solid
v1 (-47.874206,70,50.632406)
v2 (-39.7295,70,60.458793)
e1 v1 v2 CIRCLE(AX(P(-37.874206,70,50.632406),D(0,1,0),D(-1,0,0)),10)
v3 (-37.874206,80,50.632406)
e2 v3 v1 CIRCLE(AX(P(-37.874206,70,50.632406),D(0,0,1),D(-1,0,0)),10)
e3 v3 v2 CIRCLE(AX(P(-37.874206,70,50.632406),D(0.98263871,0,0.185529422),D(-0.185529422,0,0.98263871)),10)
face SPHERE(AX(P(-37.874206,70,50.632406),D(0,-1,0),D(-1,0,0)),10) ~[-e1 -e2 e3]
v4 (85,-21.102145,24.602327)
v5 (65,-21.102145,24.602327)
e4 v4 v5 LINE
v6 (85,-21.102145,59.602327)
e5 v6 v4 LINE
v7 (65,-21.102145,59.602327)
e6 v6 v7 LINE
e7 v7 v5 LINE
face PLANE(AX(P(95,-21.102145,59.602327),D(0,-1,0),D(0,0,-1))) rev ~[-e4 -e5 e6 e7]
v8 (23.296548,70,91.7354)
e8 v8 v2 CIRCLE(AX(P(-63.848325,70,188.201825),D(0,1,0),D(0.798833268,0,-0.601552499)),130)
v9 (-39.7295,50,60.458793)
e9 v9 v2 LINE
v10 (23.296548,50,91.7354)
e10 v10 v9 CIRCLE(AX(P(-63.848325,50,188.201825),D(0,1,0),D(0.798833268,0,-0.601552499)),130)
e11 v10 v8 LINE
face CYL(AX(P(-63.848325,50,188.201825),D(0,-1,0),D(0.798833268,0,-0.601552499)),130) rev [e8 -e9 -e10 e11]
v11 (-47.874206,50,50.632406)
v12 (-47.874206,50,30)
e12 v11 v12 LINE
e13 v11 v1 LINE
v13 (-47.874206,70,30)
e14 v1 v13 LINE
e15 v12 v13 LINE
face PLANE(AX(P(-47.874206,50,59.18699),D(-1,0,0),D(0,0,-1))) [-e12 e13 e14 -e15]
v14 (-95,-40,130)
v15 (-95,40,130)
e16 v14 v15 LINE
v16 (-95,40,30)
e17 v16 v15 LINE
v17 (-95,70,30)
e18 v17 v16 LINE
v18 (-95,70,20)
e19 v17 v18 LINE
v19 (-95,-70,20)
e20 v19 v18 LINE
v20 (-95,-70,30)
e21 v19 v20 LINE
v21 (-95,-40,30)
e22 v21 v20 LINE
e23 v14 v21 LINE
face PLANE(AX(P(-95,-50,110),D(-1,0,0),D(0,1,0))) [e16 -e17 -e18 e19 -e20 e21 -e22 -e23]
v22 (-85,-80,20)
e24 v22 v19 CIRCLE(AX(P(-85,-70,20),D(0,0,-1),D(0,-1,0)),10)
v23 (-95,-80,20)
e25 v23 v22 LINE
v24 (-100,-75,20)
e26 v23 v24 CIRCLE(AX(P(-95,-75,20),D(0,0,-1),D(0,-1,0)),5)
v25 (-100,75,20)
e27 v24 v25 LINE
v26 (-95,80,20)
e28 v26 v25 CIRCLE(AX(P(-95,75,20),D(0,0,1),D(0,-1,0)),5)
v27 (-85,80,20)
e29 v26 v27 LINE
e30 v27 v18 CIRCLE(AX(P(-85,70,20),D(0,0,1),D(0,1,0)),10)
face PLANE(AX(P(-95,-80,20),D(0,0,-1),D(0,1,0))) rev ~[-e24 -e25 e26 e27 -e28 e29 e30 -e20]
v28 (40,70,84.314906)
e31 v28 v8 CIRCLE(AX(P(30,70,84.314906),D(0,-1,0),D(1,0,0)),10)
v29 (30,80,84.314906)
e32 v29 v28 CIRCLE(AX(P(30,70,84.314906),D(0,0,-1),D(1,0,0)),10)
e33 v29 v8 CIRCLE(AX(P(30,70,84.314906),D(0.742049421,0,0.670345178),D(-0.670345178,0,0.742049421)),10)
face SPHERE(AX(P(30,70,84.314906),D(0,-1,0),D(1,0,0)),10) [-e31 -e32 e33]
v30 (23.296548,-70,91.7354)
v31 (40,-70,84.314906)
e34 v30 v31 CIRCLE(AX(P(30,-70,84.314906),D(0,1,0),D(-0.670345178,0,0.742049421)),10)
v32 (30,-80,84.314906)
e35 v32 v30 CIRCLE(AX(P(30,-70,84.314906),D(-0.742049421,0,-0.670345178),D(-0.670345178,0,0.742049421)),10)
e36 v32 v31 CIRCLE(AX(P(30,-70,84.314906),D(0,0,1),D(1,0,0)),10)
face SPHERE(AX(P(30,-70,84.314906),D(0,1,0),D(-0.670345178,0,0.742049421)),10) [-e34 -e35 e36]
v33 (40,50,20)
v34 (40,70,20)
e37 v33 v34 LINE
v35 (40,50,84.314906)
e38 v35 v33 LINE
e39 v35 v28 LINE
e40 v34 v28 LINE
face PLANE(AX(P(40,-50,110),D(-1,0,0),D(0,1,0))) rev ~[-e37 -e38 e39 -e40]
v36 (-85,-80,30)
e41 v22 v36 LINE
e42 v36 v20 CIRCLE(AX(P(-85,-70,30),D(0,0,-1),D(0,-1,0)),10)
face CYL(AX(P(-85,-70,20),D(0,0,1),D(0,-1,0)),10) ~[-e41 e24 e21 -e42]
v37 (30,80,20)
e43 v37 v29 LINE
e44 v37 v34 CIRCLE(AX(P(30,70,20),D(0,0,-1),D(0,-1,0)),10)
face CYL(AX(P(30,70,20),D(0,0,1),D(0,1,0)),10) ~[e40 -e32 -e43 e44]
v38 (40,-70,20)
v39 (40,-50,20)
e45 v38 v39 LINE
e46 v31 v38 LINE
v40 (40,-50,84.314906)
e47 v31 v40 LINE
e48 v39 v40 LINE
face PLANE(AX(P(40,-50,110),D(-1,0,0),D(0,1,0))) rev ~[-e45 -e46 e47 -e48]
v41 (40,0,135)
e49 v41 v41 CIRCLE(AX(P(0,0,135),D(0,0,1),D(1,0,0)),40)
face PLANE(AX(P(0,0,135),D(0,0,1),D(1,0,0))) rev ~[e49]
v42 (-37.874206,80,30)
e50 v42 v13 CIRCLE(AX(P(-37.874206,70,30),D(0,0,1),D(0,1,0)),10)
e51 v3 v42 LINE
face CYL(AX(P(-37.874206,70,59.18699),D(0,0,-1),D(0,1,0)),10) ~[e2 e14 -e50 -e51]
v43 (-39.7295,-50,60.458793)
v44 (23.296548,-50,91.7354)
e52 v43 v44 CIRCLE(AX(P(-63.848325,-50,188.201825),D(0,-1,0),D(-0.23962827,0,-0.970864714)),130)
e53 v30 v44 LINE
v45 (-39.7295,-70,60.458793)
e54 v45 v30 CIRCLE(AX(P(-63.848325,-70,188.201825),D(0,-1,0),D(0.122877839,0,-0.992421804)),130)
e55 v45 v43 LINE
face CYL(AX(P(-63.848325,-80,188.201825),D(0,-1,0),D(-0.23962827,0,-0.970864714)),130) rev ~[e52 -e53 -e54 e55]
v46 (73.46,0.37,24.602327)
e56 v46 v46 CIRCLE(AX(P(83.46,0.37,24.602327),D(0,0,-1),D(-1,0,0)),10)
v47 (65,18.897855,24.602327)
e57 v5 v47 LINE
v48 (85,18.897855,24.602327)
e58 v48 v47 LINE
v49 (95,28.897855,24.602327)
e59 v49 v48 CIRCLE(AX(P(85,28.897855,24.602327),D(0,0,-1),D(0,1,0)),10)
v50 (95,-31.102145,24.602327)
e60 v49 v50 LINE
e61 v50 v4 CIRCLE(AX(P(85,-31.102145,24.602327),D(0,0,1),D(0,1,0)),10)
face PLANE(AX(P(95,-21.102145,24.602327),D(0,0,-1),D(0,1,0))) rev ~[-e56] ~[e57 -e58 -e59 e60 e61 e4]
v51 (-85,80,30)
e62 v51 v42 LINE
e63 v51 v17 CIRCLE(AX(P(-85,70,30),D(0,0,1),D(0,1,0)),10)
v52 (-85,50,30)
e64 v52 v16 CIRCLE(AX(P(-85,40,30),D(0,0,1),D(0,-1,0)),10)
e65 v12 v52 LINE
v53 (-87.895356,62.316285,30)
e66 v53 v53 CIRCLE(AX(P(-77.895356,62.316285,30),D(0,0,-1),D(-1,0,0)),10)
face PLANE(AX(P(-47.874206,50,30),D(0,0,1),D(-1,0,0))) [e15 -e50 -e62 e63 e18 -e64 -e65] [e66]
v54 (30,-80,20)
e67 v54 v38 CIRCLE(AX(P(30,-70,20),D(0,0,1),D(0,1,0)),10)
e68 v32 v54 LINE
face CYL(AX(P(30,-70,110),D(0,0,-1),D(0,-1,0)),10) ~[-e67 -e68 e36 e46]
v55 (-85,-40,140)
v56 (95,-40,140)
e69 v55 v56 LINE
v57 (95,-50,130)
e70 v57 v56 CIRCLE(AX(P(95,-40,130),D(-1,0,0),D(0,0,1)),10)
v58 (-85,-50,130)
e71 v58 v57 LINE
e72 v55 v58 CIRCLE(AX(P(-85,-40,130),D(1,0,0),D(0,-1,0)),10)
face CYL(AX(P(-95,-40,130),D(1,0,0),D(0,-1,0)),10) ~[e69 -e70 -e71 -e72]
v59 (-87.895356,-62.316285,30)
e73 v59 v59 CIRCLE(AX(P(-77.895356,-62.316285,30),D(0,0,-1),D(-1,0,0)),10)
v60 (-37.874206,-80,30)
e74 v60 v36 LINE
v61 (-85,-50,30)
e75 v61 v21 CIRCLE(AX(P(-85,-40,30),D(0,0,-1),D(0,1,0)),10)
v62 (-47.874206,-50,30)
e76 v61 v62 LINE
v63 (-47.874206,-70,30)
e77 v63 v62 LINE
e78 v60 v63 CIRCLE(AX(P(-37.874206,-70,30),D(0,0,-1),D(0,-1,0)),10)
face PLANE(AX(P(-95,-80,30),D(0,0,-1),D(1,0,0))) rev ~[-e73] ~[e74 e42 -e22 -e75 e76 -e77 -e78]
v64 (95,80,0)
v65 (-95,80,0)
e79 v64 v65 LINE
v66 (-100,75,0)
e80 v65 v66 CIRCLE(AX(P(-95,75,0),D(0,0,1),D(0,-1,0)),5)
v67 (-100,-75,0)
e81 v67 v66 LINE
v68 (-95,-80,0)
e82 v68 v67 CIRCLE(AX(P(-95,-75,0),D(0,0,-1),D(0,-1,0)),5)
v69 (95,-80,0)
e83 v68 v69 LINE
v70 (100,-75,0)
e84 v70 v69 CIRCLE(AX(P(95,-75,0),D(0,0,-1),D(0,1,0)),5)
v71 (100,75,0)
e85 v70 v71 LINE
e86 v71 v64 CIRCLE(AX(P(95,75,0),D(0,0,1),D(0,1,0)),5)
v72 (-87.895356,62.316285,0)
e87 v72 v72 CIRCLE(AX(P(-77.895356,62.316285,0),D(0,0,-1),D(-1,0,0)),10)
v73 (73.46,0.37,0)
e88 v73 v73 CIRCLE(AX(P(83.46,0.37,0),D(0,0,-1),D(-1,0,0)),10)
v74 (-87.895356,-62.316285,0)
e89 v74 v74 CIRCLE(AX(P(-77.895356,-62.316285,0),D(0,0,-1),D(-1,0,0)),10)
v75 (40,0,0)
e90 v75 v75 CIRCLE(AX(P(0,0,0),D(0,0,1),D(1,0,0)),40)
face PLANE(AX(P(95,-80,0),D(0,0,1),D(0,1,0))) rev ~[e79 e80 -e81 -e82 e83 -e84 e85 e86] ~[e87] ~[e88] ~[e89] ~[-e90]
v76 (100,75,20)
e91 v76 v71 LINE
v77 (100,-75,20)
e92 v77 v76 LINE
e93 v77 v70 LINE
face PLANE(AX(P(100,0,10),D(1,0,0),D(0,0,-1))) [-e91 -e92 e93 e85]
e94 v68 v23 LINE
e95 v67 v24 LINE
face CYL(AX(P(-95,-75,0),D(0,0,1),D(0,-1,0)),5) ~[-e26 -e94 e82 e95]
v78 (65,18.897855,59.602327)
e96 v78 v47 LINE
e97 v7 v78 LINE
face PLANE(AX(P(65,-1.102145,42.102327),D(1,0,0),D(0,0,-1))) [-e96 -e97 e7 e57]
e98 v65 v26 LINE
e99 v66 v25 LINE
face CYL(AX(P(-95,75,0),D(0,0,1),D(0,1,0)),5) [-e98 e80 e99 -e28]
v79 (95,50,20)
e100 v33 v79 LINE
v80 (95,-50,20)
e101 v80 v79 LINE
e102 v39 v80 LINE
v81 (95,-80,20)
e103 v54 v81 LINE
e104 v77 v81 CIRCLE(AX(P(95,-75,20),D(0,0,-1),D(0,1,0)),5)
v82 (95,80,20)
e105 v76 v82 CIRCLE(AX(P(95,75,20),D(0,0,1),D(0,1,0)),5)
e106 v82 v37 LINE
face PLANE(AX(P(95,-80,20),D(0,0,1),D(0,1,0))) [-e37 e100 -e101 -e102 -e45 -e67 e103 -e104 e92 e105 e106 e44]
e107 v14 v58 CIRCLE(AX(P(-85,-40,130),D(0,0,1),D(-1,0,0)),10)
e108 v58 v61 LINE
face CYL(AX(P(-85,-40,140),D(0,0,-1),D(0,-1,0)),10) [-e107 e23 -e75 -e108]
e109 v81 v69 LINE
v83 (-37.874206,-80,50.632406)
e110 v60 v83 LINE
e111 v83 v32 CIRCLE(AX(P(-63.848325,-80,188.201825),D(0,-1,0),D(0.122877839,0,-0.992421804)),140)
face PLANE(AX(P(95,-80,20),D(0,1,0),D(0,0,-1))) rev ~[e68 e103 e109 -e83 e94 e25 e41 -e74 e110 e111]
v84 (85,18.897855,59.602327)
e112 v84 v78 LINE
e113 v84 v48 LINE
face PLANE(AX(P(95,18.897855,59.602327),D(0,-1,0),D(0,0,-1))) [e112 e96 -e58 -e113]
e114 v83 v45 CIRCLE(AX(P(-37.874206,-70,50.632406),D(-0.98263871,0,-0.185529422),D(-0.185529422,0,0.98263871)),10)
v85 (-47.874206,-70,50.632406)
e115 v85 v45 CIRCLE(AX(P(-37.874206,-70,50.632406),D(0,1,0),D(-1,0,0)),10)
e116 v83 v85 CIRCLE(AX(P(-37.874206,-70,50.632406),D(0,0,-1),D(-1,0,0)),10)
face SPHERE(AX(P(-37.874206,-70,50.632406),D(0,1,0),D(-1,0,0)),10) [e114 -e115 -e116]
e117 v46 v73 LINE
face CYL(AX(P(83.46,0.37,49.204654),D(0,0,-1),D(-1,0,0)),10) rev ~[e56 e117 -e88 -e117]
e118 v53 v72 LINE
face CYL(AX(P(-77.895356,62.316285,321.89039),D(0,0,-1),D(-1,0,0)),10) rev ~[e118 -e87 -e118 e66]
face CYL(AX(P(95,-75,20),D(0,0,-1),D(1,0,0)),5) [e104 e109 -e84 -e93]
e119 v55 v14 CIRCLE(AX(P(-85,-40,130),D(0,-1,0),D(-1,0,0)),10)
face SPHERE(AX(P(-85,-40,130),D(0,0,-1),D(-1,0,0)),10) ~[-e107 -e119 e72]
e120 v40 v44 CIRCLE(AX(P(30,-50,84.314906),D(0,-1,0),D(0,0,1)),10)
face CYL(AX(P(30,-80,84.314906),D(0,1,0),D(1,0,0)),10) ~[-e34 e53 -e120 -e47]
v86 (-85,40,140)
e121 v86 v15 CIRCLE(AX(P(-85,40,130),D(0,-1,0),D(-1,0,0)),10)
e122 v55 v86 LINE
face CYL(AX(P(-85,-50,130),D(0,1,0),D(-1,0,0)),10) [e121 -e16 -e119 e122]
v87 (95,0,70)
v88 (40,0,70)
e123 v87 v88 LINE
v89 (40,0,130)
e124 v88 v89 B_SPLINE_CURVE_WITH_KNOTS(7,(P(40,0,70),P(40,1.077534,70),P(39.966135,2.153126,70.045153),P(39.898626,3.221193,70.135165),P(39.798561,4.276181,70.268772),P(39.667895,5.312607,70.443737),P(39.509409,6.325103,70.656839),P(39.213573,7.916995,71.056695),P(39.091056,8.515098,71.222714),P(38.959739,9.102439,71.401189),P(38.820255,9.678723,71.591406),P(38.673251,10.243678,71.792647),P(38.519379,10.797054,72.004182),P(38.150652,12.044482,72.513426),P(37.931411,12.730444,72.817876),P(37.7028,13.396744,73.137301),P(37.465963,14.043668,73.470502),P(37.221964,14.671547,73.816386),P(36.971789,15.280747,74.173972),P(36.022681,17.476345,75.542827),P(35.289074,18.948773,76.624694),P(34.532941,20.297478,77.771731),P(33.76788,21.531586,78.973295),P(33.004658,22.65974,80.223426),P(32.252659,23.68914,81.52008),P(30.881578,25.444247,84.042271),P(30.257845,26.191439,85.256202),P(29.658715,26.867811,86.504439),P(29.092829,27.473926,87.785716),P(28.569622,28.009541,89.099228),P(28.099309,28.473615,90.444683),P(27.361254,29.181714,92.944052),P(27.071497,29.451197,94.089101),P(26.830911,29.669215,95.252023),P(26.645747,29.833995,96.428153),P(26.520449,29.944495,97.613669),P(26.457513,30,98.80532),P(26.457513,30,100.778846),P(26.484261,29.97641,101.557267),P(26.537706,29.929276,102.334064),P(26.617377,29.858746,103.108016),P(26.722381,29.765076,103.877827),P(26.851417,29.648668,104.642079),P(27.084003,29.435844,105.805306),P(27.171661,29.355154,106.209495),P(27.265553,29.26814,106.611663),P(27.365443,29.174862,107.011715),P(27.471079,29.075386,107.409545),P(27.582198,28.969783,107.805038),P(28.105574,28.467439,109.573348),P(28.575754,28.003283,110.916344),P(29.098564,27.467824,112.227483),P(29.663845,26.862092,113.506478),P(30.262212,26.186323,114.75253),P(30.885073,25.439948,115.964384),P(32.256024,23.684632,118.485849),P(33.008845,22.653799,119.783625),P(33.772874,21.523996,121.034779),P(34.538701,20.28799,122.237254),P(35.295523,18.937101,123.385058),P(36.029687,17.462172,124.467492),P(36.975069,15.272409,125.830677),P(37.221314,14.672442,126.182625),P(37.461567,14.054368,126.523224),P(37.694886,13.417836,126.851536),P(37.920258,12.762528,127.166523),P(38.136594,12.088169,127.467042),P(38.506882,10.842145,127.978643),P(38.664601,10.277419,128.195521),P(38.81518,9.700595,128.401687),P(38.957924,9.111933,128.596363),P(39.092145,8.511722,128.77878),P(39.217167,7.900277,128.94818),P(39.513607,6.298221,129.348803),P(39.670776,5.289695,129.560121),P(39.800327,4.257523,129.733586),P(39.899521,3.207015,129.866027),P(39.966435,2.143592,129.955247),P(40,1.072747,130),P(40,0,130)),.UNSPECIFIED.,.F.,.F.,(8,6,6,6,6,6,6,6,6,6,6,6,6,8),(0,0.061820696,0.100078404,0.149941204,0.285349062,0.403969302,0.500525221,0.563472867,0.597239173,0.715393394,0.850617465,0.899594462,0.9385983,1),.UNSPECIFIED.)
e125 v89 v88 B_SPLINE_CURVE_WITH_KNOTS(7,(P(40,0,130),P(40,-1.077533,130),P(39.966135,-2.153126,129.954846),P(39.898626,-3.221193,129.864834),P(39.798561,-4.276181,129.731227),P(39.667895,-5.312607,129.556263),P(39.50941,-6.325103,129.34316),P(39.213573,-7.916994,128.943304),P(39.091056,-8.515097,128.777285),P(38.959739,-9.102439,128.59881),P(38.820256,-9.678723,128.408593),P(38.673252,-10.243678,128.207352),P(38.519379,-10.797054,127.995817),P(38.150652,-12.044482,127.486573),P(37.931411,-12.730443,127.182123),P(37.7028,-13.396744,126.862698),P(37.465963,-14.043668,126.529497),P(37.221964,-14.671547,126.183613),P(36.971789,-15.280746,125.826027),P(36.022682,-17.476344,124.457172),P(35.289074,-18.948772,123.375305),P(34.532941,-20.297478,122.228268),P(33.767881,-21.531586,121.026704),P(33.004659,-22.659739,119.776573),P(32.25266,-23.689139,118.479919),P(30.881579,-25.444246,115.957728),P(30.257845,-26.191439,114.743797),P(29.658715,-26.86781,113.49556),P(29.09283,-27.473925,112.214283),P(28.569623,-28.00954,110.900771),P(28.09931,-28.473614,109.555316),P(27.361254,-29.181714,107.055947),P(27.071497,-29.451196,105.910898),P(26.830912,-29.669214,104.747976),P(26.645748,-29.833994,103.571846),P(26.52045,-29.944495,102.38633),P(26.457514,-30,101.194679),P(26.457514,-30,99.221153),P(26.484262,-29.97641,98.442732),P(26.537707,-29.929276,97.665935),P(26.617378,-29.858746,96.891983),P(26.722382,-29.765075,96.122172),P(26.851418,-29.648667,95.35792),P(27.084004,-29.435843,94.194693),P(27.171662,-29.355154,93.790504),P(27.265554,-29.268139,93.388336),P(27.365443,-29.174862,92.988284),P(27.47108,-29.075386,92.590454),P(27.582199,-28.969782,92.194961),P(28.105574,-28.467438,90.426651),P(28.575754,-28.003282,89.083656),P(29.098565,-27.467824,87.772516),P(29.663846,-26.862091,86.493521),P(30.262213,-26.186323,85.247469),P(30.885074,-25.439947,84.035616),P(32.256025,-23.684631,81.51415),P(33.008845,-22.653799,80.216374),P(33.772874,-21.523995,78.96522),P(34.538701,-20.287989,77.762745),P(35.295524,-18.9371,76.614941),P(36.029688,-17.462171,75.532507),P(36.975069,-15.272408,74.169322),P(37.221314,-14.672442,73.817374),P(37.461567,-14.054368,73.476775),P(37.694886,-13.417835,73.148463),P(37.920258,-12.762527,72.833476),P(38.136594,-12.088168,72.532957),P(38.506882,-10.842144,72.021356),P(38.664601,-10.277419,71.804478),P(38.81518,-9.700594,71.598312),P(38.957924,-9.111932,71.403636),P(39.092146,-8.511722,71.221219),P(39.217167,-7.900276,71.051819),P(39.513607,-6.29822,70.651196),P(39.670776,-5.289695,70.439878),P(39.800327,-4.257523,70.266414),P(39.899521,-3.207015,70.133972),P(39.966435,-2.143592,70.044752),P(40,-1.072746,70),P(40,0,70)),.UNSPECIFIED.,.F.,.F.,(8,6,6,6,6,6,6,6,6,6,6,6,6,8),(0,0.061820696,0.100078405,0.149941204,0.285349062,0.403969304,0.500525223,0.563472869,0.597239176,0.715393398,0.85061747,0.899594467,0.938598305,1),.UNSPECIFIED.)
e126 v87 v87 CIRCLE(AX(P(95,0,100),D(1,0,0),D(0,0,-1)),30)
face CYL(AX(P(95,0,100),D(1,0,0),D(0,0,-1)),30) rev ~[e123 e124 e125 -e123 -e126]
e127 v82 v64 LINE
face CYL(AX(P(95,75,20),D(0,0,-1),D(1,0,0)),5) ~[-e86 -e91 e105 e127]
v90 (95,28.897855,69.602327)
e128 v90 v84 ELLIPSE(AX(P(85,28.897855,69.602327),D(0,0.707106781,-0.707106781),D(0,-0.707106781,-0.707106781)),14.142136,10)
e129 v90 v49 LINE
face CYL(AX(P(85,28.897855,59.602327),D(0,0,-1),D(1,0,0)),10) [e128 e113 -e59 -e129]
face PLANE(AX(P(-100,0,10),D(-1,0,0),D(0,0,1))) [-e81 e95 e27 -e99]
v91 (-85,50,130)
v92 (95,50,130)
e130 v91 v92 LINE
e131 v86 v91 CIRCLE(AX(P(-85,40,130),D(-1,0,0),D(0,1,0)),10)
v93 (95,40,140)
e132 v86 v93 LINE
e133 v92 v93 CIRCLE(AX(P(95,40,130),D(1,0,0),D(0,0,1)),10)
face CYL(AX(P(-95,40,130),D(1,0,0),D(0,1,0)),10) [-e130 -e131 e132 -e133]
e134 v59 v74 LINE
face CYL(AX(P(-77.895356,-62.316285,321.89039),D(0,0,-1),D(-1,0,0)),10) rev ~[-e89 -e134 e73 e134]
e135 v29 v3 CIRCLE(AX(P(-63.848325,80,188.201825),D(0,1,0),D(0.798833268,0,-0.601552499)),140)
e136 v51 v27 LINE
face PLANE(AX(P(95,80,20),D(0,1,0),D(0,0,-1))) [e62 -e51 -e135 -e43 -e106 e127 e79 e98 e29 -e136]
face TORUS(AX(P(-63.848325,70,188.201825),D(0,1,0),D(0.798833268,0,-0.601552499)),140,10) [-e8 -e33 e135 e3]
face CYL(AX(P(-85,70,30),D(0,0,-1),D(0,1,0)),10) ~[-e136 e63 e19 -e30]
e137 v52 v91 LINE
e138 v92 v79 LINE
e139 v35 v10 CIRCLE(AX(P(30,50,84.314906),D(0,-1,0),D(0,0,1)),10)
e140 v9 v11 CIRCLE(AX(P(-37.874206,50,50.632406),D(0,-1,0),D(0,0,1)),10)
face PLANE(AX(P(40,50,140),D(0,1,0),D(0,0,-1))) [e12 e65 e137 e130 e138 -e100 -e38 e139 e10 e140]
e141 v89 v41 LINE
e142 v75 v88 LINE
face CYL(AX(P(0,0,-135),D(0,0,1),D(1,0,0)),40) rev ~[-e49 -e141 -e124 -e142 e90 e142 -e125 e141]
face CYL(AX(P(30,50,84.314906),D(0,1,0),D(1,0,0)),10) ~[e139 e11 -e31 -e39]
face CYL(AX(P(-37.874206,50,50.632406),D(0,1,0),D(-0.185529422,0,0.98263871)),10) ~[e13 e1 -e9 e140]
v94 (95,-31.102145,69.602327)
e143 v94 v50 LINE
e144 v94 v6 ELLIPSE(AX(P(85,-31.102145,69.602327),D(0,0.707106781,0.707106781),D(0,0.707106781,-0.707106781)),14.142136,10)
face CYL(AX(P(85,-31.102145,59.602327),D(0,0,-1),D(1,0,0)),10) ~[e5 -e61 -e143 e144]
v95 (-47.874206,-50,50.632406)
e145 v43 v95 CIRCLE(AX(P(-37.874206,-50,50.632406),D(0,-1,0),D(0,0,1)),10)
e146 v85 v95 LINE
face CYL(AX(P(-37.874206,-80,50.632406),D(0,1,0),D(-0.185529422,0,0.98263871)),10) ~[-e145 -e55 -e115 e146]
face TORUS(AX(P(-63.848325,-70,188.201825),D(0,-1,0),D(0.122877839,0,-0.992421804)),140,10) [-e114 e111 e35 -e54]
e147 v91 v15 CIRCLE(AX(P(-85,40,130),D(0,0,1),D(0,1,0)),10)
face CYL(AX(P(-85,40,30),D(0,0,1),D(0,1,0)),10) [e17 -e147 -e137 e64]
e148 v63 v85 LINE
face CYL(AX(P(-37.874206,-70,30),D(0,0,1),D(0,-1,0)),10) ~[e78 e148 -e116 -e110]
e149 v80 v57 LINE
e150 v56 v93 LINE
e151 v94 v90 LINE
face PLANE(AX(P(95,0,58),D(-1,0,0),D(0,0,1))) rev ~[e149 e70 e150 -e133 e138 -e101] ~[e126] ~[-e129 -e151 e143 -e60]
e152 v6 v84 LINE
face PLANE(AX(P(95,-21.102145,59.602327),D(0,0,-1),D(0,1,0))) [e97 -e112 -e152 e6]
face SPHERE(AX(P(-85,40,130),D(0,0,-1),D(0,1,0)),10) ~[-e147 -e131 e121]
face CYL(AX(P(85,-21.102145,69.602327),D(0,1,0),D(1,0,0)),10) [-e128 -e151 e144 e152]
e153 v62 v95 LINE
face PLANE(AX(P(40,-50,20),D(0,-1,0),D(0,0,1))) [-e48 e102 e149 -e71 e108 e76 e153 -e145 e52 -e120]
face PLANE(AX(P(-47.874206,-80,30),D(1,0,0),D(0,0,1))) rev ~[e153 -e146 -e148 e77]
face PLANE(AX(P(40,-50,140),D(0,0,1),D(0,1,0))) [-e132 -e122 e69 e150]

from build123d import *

# Parameters (mm, degrees)
SKETCH1_W                   = 135
SKETCH1_H                   = 110
BOSS_EXTRUDE1_DEPTH         = 100
BOSS_EXTRUDE2_DEPTH         = 29.999999629
BOSS_EXTRUDE3_START         = 30.000000371
BOSS_EXTRUDE3_DEPTH         = 30.000000371
SKETCH4_W                   = 135
SKETCH4_H                   = 100
BOSS_EXTRUDE4_DEPTH         = 30
BOSS_EXTRUDE5_DEPTH         = 55
SKETCH6_W                   = 20
SKETCH6_H                   = 160
BOSS_EXTRUDE6_DEPTH         = 5
SKETCH7_W                   = 20
SKETCH7_H                   = 160
BOSS_EXTRUDE7_DEPTH         = 5
CUT_EXTRUDE1_START          = -29.999999629
CUT_EXTRUDE1_DEPTH          = 29.999999629
CUT_EXTRUDE2_DEPTH          = 30.000000371
SKETCH10_W                  = 35
SKETCH10_H                  = 40
CUT_EXTRUDE3_DEPTH          = 30
HOLE1_D                     = 80
HOLE1_DEPTH                 = 135
HOLE2_REACH                 = 255.032
HOLE2_BORE_R                = 30
F_3_4_CLEARANCE_HOLE1_D     = 20
F_3_4_CLEARANCE_HOLE1_DEPTH = 24.602326997
F_3_4_CLEARANCE_HOLE2_D     = 20
FILLET1_R                   = 5
FILLET2_R                   = 10


with BuildPart() as part:
    # Sketch1 → Boss-Extrude1 (new body)
    with BuildSketch(Plane(origin=(0, 50.000000371, 0), x_dir=(1, 0, 0), z_dir=(0, 1, 0))):
        with Locations((-27.5, -55)):
            Rectangle(SKETCH1_W, SKETCH1_H)
    extrude(amount=-BOSS_EXTRUDE1_DEPTH)

    # Sketch2 → Boss-Extrude2 (add)
    with BuildSketch(Plane(origin=(0, 50.000000371, 0), x_dir=(-1, 0, 0), z_dir=(0, 1, 0))):
        with BuildLine():
            Line((-40, 0), (-40, 110))
            ThreePointArc((-40, 110), (20.288540009, 65.716947722), (95, 61.989412153))
            Line((95, 61.989412153), (95, 0))
            Line((95, 0), (-40, 0))
        make_face()
    extrude(amount=BOSS_EXTRUDE2_DEPTH)

    # Sketch3 → Boss-Extrude3 (add)
    with BuildSketch(Plane.XZ.offset(49.999999629).offset(BOSS_EXTRUDE3_START)):
        with BuildLine():
            Line((40, 0), (-95, 0))
            Line((-95, 0), (-95, 61.989412153))
            ThreePointArc((-95, 61.989412153), (-20.288540009, 65.716947722), (40, 110))
            Line((40, 110), (40, 0))
        make_face()
    extrude(amount=-BOSS_EXTRUDE3_DEPTH)

    # Sketch4 → Boss-Extrude4 (add)
    with BuildSketch(Plane.XY.offset(110)):
        with Locations((-27.5, 3.71e-07)):
            Rectangle(SKETCH4_W, SKETCH4_H)
    extrude(amount=BOSS_EXTRUDE4_DEPTH)

    # Sketch5 → Boss-Extrude5 (add)
    with BuildSketch(Plane(origin=(40, 0, 0), x_dir=(0, 0, -1), z_dir=(1, 0, 0))):
        Polygon((-140, 50.000000371), (-20, 50.000000371), (-20, 80), (0, 80), (0, -80), (-20, -80), (-20, -49.999999629), (-140, -49.999999629), align=None)
    extrude(amount=BOSS_EXTRUDE5_DEPTH)

    # Sketch6 → Boss-Extrude6 (add)
    with BuildSketch(Plane.ZY.offset(95)):
        with Locations((10, 0)):
            Rectangle(SKETCH6_W, SKETCH6_H)
    extrude(amount=BOSS_EXTRUDE6_DEPTH)

    # Sketch7 → Boss-Extrude7 (add)
    with BuildSketch(Plane(origin=(95, 0, 0), x_dir=(0, 0, -1), z_dir=(1, 0, 0))):
        with Locations((-10, 0)):
            Rectangle(SKETCH7_W, SKETCH7_H)
    extrude(amount=BOSS_EXTRUDE7_DEPTH)

    # Sketch8 → Cut-Extrude1 (cut)
    with BuildSketch(Plane(origin=(0, 80, 0), x_dir=(-1, 0, 0), z_dir=(0, 1, 0)).offset(CUT_EXTRUDE1_START)):
        with BuildLine():
            Line((47.874205856, 59.186990419), (47.874205856, 30))
            Line((47.874205856, 30), (95, 30))
            Line((95, 30), (95, 61.989412153))
            ThreePointArc((95, 61.989412153), (71.565380287, 58.431076847), (47.874205856, 59.186990419))
        make_face()
    extrude(amount=CUT_EXTRUDE1_DEPTH, mode=Mode.SUBTRACT)

    # Sketch9 → Cut-Extrude2 (cut)
    with BuildSketch(Plane.XZ.offset(80)):
        with BuildLine():
            Line((-47.874205856, 30), (-47.874205856, 59.186990419))
            ThreePointArc((-47.874205856, 59.186990419), (-71.565380287, 58.431076847), (-95, 61.989412153))
            Line((-95, 61.989412153), (-95, 30))
            Line((-95, 30), (-47.874205856, 30))
        make_face()
    extrude(amount=-CUT_EXTRUDE2_DEPTH, mode=Mode.SUBTRACT)

    # Sketch10 → Cut-Extrude3 (cut)
    with BuildSketch(Plane(origin=(95, 0, 0), x_dir=(0, 0, -1), z_dir=(1, 0, 0))):
        with Locations((-42.102326997, -1.102144565)):
            Rectangle(SKETCH10_W, SKETCH10_H)
    extrude(amount=-CUT_EXTRUDE3_DEPTH, mode=Mode.SUBTRACT)

    # Hole1
    with Locations(Plane(origin=(0, 0, 0), x_dir=(-1, 0, 0), z_dir=(0, 0, -1))):
        with Locations((0, 0)):
            Hole(HOLE1_D / 2, depth=HOLE1_DEPTH)

    # Hole2 bore → Hole2 (cut, up to next)
    with BuildSketch(Plane(origin=(95, 0, 0), x_dir=(0, 0, -1), z_dir=(1, 0, 0)), mode=Mode.PRIVATE) as hole2_sk1:
        with Locations((-99.999999554, 3.71e-07)):
            Circle(HOLE2_BORE_R)
    hole2_tool1 = extrude(hole2_sk1.sketch, amount=-HOLE2_REACH, mode=Mode.PRIVATE) & part.part
    add(hole2_tool1.solids().sort_by_distance((95, 0, 100))[0], mode=Mode.SUBTRACT)

    # 3/4 Clearance Hole1
    with Locations(Plane.XY.offset(24.602326997)):
        with Locations((83.46, 0.37)):
            Hole(F_3_4_CLEARANCE_HOLE1_D / 2, depth=F_3_4_CLEARANCE_HOLE1_DEPTH)

    # 3/4 Clearance Hole2 (through all)
    with Locations(Plane.XY.offset(30)):
        with Locations((-77.895356155, -62.316284924), (-77.895356155, 62.316284924)):
            Hole(F_3_4_CLEARANCE_HOLE2_D / 2)

    # Fillet1
    fillet1_edges = [part.edges().sort_by_distance(p)[0] for p in [
        (-100, -80, 10),
        (-100, 80, 10),
        (100, -80, 10),
        (100, 80, 10),
    ]]
    fillet(fillet1_edges, radius=FILLET1_R)

    # Fillet2
    fillet2_edges = [part.edges().sort_by_distance(p)[0] for p in [
        (1.227361836, 80, 75.662254106),
        (-47.874205856, 65.000000185, 59.186990419),
        (-47.874205856, 80, 44.593495209),
        (-95, -80, 25),
        (-47.874205856, -64.999999815, 59.186990419),
        (-47.874205856, -80, 44.593495209),
        (-95, 50.000000371, 85),
        (95, -21.102144565, 42.102326997),
        (95, 18.897855435, 42.102326997),
        (95, -1.102144565, 59.602326997),
        (40, 65.000000185, 110),
        (40, 80, 65),
        (-95, -49.999999629, 85),
        (40, -64.999999815, 110),
        (1.227361836, -80, 75.662254106),
        (0, 50.000000371, 140),
        (-95, 3.71e-07, 140),
        (0, -49.999999629, 140),
        (40, -80, 65),
        (-95, 80, 25),
    ]]
    fillet(fillet2_edges, radius=FILLET2_R)


solid = part.part
